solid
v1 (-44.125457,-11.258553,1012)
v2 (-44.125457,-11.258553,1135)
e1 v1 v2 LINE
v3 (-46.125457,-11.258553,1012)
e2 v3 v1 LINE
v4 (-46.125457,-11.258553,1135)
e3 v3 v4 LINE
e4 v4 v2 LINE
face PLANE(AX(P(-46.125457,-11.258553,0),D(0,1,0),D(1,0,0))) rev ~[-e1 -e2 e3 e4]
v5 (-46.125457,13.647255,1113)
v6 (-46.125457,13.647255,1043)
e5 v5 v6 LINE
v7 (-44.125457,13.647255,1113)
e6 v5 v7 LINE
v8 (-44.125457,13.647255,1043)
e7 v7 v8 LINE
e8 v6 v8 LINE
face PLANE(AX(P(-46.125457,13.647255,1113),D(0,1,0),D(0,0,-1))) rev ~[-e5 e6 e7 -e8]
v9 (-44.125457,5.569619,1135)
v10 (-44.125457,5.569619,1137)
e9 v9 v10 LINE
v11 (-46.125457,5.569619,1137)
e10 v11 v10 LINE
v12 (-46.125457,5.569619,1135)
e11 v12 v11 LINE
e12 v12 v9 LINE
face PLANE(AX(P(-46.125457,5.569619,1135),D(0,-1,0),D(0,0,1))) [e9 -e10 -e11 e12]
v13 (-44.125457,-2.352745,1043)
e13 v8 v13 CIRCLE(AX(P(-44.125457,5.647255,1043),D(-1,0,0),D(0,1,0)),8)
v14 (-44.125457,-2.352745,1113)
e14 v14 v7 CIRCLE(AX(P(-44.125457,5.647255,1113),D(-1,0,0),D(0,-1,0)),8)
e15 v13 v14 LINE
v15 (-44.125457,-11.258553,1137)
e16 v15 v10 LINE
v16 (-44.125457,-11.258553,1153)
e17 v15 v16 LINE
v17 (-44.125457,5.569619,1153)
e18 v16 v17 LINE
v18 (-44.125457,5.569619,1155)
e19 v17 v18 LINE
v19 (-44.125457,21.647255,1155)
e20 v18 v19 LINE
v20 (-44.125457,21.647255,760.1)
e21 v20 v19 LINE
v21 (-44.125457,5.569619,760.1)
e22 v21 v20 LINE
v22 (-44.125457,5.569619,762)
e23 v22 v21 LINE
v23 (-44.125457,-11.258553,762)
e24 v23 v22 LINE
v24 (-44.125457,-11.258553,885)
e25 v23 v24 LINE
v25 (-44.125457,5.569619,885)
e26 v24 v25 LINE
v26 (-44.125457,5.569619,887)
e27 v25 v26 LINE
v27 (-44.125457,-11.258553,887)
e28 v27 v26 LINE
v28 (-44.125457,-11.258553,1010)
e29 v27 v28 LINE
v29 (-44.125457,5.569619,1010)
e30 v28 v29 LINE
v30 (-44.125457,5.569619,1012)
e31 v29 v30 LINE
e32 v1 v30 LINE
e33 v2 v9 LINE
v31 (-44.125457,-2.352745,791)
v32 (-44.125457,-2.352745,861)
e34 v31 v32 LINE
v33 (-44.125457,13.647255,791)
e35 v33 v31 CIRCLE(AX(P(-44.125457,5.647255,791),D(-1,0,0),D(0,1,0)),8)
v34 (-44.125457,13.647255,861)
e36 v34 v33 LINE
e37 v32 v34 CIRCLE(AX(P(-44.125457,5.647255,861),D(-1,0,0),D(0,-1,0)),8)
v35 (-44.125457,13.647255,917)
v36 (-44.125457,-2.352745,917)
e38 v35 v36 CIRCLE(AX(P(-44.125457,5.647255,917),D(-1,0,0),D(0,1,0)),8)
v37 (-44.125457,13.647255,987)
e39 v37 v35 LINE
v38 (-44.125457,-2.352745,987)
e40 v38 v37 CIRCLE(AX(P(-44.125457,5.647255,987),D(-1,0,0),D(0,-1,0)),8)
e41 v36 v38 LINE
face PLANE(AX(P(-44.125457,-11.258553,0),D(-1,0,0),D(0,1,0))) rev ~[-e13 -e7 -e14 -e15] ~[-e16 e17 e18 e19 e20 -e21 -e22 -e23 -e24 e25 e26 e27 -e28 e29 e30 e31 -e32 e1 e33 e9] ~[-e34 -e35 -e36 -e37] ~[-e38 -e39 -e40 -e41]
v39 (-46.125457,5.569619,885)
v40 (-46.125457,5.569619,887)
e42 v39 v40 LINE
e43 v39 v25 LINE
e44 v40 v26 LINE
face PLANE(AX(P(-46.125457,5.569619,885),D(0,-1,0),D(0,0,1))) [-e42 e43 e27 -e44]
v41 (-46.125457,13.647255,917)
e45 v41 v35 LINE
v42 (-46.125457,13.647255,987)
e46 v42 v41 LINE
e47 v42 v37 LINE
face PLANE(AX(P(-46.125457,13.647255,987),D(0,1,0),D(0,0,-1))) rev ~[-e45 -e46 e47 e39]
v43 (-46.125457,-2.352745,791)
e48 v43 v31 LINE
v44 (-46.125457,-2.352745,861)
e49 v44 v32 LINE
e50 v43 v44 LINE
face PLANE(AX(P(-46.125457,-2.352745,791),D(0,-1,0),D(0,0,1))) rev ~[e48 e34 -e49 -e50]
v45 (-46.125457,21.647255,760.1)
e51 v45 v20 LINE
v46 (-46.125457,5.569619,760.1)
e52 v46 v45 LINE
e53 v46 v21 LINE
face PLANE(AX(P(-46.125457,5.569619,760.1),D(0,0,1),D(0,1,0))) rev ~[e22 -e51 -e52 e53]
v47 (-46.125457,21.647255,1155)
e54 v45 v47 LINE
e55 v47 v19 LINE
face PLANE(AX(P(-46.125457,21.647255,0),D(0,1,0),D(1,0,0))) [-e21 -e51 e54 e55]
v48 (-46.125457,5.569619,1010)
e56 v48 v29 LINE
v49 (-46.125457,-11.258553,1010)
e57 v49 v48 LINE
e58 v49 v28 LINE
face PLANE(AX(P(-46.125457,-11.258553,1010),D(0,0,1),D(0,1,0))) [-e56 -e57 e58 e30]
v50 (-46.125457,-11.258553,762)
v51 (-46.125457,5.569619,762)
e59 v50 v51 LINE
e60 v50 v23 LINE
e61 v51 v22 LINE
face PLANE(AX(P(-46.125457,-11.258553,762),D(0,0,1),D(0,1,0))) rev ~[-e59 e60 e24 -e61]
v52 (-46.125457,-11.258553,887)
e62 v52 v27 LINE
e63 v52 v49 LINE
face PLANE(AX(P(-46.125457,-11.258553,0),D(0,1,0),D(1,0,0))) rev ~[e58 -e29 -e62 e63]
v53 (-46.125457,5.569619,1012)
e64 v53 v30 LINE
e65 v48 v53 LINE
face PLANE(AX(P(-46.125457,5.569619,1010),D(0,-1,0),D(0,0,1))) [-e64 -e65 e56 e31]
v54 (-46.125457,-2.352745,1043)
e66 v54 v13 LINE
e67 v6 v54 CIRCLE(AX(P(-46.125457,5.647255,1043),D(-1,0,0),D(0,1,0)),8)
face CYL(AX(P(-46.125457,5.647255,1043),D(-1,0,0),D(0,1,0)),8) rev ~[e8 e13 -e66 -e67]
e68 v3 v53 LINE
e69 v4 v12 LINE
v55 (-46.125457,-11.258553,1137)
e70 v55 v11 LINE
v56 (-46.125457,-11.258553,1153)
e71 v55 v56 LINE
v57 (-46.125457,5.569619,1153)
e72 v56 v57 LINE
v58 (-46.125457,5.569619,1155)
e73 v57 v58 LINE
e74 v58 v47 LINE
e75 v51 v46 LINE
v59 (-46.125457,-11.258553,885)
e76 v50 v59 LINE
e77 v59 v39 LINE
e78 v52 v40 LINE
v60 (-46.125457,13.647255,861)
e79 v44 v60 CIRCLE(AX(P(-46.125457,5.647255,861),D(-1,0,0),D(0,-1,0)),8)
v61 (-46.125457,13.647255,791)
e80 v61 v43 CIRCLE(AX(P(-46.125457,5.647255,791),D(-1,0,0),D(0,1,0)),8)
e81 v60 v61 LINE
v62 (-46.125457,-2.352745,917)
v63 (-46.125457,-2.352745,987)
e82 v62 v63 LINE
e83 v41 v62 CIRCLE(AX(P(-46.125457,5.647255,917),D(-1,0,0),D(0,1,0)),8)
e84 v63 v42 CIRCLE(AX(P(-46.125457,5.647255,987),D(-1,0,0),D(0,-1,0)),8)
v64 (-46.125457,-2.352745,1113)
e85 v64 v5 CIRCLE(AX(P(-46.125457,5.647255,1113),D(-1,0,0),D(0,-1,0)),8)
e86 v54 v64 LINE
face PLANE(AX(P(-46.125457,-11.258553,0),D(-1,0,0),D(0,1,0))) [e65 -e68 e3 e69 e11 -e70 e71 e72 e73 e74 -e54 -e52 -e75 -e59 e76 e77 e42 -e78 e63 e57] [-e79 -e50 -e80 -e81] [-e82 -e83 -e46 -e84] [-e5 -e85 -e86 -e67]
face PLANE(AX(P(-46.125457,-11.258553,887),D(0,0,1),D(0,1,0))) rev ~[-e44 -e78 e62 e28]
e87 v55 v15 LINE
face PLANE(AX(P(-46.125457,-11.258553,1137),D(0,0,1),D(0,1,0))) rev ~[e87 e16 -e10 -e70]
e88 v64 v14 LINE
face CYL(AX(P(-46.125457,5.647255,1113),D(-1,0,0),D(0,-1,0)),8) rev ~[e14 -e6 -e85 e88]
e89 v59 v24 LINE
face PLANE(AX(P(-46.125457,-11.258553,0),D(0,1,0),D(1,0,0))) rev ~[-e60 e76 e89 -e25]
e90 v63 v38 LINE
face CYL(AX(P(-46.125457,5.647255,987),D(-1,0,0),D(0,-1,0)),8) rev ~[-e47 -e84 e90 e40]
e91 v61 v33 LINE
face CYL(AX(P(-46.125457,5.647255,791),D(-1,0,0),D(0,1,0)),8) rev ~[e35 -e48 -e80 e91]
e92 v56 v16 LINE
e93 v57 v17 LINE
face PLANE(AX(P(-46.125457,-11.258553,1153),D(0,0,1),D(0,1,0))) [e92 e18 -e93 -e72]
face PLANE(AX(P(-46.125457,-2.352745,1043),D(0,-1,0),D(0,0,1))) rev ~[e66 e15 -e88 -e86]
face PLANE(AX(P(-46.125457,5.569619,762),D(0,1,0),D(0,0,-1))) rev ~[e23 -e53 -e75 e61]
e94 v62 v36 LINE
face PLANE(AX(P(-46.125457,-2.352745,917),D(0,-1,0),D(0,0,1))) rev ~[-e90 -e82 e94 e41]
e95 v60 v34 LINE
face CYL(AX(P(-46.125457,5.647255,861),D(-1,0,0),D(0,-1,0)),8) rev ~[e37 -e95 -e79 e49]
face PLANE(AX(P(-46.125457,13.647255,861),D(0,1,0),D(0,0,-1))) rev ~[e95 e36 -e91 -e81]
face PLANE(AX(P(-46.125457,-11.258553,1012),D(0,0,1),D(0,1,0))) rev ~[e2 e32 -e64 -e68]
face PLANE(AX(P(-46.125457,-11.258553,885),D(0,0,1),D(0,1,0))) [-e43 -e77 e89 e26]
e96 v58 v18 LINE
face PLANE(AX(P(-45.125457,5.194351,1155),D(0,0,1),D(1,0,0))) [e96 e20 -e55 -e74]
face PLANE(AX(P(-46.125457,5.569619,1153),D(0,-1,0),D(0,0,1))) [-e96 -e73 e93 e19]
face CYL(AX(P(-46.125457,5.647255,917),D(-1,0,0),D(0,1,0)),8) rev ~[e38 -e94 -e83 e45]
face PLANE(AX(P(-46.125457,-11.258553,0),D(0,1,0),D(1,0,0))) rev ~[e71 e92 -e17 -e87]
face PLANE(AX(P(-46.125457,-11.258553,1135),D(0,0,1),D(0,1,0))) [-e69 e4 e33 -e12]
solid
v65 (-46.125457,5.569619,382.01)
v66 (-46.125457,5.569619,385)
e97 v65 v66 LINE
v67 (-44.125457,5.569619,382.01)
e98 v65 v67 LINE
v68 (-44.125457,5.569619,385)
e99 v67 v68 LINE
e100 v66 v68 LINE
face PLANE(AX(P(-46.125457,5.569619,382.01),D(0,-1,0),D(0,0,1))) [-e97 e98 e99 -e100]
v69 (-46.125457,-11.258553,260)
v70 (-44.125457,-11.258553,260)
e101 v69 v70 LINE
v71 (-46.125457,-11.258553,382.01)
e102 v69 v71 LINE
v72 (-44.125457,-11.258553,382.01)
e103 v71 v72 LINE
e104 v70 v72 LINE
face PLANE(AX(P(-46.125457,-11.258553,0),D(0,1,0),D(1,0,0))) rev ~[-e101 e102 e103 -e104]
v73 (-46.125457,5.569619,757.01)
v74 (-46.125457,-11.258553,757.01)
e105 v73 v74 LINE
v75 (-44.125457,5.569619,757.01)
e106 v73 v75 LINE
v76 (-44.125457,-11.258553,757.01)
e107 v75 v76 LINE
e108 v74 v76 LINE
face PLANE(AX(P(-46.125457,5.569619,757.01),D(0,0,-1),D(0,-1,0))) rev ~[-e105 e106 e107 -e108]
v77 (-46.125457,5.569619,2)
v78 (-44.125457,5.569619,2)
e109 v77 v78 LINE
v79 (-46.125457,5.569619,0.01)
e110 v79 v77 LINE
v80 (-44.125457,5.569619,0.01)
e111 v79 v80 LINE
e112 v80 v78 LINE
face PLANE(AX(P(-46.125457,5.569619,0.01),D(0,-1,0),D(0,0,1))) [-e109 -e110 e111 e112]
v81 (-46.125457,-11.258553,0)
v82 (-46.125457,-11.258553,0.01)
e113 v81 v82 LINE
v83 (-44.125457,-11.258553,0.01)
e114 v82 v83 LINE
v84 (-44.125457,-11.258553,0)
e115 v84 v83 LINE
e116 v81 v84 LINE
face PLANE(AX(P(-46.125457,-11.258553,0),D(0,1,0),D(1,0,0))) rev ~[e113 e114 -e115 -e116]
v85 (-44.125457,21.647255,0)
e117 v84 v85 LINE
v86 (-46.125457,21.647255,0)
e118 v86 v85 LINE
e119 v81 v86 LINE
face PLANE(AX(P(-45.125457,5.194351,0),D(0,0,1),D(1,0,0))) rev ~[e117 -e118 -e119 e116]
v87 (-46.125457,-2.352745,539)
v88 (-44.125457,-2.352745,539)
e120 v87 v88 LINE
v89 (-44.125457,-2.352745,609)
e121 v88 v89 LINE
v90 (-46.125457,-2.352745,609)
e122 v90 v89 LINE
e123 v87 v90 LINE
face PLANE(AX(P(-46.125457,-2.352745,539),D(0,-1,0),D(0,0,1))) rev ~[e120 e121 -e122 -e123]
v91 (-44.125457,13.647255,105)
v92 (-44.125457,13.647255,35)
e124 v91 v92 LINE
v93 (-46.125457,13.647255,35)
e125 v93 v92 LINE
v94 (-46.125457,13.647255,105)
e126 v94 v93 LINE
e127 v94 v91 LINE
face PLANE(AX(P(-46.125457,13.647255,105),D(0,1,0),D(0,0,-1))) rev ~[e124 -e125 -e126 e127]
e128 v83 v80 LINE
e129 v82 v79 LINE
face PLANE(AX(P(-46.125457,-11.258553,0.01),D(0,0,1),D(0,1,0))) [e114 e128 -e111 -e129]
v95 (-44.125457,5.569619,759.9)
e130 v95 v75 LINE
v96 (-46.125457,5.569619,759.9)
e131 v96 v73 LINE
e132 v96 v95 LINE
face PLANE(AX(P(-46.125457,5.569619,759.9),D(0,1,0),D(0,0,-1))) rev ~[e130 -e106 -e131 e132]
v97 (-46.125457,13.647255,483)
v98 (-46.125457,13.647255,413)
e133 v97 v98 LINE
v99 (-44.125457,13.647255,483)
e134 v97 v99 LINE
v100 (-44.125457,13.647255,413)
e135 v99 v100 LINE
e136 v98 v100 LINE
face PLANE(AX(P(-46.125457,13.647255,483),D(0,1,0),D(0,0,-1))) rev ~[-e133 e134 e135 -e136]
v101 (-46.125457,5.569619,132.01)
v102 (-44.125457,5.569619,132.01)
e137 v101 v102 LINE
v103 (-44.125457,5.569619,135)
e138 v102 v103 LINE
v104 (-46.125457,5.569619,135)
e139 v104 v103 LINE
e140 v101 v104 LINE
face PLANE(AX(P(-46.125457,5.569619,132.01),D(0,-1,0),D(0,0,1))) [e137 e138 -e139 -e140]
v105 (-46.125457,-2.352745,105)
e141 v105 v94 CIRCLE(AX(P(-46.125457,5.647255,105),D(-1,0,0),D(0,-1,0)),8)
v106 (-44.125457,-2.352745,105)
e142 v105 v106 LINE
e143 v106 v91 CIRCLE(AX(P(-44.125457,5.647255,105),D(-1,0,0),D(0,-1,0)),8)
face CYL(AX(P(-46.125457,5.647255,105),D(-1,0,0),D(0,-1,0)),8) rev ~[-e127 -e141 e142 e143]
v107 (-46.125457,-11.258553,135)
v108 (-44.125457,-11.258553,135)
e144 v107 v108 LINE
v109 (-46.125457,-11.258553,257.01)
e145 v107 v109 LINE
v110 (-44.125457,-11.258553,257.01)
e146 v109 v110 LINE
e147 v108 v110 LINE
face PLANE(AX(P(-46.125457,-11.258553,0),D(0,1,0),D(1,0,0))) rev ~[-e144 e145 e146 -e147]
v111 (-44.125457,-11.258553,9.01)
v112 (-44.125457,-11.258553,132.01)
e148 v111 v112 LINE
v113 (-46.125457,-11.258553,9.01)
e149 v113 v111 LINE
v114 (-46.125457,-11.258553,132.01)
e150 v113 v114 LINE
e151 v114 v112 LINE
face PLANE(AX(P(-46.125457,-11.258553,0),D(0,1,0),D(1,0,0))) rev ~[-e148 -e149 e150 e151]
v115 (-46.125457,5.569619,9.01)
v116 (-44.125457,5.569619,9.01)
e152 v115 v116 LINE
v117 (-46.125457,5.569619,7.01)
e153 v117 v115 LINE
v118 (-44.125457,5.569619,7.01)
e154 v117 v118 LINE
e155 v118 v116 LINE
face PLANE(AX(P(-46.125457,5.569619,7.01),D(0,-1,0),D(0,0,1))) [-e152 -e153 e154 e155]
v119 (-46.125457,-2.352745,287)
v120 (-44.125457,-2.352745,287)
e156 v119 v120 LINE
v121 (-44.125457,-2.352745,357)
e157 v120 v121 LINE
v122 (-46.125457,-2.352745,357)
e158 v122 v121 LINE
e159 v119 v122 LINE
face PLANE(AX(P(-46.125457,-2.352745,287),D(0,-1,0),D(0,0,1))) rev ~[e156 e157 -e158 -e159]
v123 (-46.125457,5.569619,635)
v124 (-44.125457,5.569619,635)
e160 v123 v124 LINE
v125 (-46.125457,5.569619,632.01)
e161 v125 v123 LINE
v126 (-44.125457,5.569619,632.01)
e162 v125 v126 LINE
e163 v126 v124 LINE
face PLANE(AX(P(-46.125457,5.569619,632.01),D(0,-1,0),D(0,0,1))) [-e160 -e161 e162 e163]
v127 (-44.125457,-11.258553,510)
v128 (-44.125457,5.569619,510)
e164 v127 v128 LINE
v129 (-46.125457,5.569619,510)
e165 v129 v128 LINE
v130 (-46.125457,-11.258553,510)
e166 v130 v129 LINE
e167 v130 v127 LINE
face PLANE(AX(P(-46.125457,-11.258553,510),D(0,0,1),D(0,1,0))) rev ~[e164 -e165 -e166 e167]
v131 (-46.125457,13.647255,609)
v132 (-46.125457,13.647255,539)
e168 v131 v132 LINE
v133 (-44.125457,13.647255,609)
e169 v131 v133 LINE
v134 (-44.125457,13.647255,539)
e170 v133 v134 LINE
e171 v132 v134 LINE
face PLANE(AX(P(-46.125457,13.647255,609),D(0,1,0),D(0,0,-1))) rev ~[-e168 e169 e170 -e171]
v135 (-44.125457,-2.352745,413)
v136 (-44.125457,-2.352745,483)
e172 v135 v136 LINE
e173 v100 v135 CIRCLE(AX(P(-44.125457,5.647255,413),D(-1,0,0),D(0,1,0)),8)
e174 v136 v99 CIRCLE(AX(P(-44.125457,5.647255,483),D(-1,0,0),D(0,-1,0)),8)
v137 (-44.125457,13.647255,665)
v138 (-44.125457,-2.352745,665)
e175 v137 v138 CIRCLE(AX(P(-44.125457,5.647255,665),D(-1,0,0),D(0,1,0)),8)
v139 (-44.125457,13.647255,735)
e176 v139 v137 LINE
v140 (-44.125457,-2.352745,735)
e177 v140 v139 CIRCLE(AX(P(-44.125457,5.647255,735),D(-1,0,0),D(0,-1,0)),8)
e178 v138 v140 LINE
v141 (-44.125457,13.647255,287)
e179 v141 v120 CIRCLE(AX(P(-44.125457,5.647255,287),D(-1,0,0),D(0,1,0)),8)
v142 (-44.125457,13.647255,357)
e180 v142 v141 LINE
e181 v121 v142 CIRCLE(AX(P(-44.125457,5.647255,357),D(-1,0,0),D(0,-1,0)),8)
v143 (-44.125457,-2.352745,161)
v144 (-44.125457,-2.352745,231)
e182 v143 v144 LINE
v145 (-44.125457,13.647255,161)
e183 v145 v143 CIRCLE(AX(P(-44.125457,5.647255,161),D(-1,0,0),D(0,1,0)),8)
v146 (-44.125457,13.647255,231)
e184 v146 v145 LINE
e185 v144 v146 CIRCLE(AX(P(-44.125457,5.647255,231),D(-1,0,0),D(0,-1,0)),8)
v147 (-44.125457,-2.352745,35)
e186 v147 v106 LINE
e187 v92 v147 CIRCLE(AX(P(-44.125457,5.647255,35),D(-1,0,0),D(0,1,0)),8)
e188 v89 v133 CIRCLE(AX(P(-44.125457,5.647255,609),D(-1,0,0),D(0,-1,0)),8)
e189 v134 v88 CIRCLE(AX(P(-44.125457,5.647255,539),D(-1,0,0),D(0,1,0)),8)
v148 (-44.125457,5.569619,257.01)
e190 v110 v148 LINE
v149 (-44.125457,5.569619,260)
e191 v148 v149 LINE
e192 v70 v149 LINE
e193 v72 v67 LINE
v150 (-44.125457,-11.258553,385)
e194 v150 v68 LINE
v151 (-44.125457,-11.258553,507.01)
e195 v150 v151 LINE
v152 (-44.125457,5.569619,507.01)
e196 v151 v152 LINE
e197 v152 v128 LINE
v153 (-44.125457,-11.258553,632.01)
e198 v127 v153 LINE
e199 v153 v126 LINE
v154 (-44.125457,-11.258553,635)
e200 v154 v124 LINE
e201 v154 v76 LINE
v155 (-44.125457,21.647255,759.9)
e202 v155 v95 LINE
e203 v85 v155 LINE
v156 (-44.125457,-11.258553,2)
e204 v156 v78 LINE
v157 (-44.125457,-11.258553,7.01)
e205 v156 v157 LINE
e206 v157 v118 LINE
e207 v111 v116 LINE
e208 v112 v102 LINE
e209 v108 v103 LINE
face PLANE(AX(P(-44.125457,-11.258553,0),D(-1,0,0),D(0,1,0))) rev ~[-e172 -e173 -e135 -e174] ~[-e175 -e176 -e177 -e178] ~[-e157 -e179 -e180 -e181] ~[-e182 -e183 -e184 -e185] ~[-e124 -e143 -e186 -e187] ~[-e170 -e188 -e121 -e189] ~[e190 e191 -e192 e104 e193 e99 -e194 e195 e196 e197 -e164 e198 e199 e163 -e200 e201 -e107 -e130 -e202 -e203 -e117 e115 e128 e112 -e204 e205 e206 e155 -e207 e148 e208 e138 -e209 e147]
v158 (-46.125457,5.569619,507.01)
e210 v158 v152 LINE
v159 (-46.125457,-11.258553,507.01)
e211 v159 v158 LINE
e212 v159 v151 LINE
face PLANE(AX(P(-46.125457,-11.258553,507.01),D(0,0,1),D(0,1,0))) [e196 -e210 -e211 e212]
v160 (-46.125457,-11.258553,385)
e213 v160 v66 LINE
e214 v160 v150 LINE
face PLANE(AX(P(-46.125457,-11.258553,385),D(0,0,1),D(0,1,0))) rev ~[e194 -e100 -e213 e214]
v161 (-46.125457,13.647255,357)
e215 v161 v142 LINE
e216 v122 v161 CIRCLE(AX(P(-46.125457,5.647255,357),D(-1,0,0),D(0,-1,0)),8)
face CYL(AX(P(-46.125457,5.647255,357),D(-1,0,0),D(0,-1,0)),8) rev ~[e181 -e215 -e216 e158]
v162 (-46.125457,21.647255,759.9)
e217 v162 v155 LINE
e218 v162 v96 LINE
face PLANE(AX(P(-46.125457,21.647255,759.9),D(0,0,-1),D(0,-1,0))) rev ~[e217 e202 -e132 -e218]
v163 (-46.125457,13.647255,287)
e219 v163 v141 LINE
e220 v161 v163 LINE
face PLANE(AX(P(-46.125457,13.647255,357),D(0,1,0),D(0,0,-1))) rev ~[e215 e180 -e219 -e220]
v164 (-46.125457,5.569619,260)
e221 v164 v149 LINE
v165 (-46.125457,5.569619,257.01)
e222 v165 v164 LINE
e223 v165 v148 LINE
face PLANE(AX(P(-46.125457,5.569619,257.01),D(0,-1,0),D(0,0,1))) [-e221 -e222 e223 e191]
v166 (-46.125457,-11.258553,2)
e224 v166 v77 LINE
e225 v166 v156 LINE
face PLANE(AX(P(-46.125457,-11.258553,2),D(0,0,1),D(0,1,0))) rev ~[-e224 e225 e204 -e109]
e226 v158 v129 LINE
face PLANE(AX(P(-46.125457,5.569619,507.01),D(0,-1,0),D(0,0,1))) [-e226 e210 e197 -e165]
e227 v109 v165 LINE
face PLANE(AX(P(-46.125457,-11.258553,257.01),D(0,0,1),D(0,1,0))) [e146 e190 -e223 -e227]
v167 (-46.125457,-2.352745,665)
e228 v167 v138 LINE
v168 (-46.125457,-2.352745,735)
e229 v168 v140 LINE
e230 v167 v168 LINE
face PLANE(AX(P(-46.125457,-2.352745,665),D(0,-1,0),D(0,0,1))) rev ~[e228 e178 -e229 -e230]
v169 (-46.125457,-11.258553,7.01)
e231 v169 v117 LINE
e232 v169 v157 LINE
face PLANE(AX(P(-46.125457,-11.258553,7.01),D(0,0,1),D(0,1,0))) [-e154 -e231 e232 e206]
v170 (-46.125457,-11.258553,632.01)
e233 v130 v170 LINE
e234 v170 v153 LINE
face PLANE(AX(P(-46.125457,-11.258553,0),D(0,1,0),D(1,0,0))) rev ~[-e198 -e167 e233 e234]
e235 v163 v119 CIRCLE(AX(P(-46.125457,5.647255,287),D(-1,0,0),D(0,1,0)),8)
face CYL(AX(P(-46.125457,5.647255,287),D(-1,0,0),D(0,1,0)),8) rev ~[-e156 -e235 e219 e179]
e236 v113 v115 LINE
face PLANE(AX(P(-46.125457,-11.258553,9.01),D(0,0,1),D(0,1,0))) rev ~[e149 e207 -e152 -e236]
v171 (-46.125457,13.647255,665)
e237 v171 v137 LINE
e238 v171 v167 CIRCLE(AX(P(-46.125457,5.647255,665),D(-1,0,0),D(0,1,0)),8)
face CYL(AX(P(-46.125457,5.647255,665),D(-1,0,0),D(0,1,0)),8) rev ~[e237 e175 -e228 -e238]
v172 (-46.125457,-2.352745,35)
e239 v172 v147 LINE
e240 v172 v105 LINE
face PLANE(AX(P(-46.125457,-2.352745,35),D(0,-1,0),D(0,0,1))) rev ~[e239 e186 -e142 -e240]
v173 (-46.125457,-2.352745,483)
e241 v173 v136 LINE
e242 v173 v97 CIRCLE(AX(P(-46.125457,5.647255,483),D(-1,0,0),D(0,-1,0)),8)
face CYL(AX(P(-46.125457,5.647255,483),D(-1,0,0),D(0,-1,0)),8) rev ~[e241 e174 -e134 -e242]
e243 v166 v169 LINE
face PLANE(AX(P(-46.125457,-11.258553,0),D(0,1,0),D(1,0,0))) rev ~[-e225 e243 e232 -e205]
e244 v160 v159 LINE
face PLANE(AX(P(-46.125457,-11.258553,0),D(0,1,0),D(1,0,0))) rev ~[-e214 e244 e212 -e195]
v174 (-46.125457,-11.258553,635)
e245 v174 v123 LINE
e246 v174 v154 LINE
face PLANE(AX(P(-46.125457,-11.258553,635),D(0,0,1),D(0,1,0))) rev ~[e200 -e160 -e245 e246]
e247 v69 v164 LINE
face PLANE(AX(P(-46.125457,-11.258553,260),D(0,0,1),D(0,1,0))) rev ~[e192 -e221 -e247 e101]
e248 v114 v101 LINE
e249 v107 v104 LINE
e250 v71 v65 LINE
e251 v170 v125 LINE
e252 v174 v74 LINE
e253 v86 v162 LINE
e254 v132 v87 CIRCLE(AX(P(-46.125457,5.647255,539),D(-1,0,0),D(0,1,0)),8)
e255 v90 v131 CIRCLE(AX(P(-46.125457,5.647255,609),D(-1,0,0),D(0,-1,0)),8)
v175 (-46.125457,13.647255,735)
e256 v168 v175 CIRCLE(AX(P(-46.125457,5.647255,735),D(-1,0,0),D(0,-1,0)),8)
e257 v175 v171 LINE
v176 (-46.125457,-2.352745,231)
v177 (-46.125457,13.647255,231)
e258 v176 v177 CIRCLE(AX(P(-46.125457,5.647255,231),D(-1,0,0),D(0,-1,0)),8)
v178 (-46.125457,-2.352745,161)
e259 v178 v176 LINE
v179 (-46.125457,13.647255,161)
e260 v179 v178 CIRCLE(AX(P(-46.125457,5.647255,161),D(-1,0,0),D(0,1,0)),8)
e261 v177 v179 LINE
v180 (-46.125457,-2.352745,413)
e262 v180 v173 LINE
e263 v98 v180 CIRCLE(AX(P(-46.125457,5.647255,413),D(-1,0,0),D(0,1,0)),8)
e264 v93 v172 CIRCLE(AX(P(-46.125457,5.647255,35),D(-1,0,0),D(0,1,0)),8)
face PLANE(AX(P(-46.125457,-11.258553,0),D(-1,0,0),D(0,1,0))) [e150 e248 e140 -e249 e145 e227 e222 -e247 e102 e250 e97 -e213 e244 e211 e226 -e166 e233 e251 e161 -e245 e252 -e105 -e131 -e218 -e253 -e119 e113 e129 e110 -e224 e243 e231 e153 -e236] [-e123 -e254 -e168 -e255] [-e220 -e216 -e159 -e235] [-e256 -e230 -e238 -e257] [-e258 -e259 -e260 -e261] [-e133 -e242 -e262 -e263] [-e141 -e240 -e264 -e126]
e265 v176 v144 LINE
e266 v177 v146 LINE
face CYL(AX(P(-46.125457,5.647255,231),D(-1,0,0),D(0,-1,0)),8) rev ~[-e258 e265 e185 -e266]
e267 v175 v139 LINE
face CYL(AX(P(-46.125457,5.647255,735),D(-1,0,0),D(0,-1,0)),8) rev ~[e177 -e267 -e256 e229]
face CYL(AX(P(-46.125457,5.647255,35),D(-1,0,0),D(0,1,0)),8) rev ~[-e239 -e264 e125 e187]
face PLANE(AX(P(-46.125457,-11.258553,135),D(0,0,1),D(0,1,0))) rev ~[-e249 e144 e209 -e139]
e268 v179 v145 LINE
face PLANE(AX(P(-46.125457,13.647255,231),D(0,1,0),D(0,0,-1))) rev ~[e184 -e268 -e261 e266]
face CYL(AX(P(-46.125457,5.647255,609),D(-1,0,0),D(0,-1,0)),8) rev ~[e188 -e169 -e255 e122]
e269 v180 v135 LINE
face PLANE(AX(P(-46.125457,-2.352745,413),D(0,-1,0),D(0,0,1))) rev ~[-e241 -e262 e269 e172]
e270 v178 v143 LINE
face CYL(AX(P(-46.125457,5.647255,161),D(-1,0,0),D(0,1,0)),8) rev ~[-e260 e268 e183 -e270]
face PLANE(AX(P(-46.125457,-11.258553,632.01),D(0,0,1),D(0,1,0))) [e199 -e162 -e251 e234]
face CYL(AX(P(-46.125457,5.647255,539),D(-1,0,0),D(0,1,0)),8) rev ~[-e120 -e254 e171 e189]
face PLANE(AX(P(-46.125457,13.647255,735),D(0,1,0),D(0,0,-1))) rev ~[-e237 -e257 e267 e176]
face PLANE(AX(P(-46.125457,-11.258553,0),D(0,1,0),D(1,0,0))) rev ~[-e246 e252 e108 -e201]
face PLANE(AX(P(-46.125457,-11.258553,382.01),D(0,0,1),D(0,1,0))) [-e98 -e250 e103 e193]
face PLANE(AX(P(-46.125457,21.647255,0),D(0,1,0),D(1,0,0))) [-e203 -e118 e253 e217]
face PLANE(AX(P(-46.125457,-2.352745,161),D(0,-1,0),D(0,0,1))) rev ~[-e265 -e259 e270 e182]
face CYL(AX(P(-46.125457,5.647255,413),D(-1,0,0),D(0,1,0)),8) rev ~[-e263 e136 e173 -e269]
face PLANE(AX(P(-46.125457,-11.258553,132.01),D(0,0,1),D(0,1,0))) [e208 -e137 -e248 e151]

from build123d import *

# Parameters (mm, degrees)
SKETCH_1_W          = 2
SKETCH_1_H          = 32.905807398
EXTRUDE_1_DEPTH     = 1155
SKETCH_2_W          = 1.99
SKETCH_2_H          = 16.828171787
SKETCH_2_W_2        = 2
SKETCH_2_W_3        = 2.99
CUT_EXTRUDE_1_DEPTH = 3


with BuildPart() as part:
    # 草图1 → 凸台-拉伸1 (new body)
    with BuildSketch(Plane.XY):
        with Locations((-45.125456821, 5.194351007)):
            Rectangle(SKETCH_1_W, SKETCH_1_H)
    extrude(amount=EXTRUDE_1_DEPTH)

    # 草图2 → 切除-拉伸1 (cut)
    with BuildSketch(Plane.ZY.offset(46.125456821)):
        with Locations((1.005, -2.844466799)):
            Rectangle(SKETCH_2_W, SKETCH_2_H)
        with Locations((8.01, -2.844466799)):
            Rectangle(SKETCH_2_W_2, SKETCH_2_H)
        with BuildLine():
            Line((35, -2.352745294), (105, -2.352745294))
            ThreePointArc((105, -2.352745294), (113, 5.647254706), (105, 13.647254706))
            Line((105, 13.647254706), (35, 13.647254706))
            ThreePointArc((35, 13.647254706), (27, 5.647254706), (35, -2.352745294))
        make_face()
        with Locations((133.505, -2.844466799)):
            Rectangle(SKETCH_2_W_3, SKETCH_2_H)
        with BuildLine():
            Line((161, -2.352745294), (231, -2.352745294))
            ThreePointArc((231, -2.352745294), (239, 5.647254706), (231, 13.647254706))
            Line((231, 13.647254706), (161, 13.647254706))
            ThreePointArc((161, 13.647254706), (153, 5.647254706), (161, -2.352745294))
        make_face()
        with Locations((258.505, -2.844466799)):
            Rectangle(SKETCH_2_W_3, SKETCH_2_H)
        with BuildLine():
            Line((287, -2.352745294), (357, -2.352745294))
            ThreePointArc((357, -2.352745294), (365, 5.647254706), (357, 13.647254706))
            Line((357, 13.647254706), (287, 13.647254706))
            ThreePointArc((287, 13.647254706), (279, 5.647254706), (287, -2.352745294))
        make_face()
        with Locations((383.505, -2.844466799)):
            Rectangle(SKETCH_2_W_3, SKETCH_2_H)
        with BuildLine():
            Line((413, -2.352745294), (483, -2.352745294))
            ThreePointArc((483, -2.352745294), (491, 5.647254706), (483, 13.647254706))
            Line((483, 13.647254706), (413, 13.647254706))
            ThreePointArc((413, 13.647254706), (405, 5.647254706), (413, -2.352745294))
        make_face()
        with Locations((508.505, -2.844466799)):
            Rectangle(SKETCH_2_W_3, SKETCH_2_H)
        with BuildLine():
            Line((539, -2.352745294), (609, -2.352745294))
            ThreePointArc((609, -2.352745294), (617, 5.647254706), (609, 13.647254706))
            Line((609, 13.647254706), (539, 13.647254706))
            ThreePointArc((539, 13.647254706), (531, 5.647254706), (539, -2.352745294))
        make_face()
        with Locations((633.505, -2.844466799)):
            Rectangle(SKETCH_2_W_3, SKETCH_2_H)
        with BuildLine():
            Line((665, -2.352745294), (735, -2.352745294))
            ThreePointArc((735, -2.352745294), (743, 5.647254706), (735, 13.647254706))
            Line((735, 13.647254706), (665, 13.647254706))
            ThreePointArc((665, 13.647254706), (657, 5.647254706), (665, -2.352745294))
        make_face()
        Polygon((757.01, 5.569619095), (757.01, -11.258552692), (760, -11.258552692), (760, 5.569619095), (759.9, 5.569619095), align=None)
        Polygon((760, 5.569619095), (760, -11.258552692), (762, -11.258552692), (762, 5.569619095), (760.1, 5.569619095), align=None)
        Polygon((759.9, 21.647254706), (759.9, 5.569619095), (760, 5.569619095), (760.1, 5.569619095), (760.1, 21.647254706), align=None)
        with BuildLine():
            Line((791, -2.352745294), (861, -2.352745294))
            ThreePointArc((861, -2.352745294), (869, 5.647254706), (861, 13.647254706))
            Line((861, 13.647254706), (791, 13.647254706))
            ThreePointArc((791, 13.647254706), (783, 5.647254706), (791, -2.352745294))
        make_face()
        with Locations((886, -2.844466799)):
            Rectangle(SKETCH_2_W_2, SKETCH_2_H)
        with BuildLine():
            Line((917, -2.352745294), (987, -2.352745294))
            ThreePointArc((987, -2.352745294), (995, 5.647254706), (987, 13.647254706))
            Line((987, 13.647254706), (917, 13.647254706))
            ThreePointArc((917, 13.647254706), (909, 5.647254706), (917, -2.352745294))
        make_face()
        with Locations((1011, -2.844466799)):
            Rectangle(SKETCH_2_W_2, SKETCH_2_H)
        with BuildLine():
            Line((1043, -2.352745294), (1113, -2.352745294))
            ThreePointArc((1113, -2.352745294), (1121, 5.647254706), (1113, 13.647254706))
            Line((1113, 13.647254706), (1043, 13.647254706))
            ThreePointArc((1043, 13.647254706), (1035, 5.647254706), (1043, -2.352745294))
        make_face()
        with Locations((1136, -2.844466799)):
            Rectangle(SKETCH_2_W_2, SKETCH_2_H)
        with Locations((1154, -2.844466799)):
            Rectangle(SKETCH_2_W_2, SKETCH_2_H)
    extrude(amount=-CUT_EXTRUDE_1_DEPTH, mode=Mode.SUBTRACT)


with BuildPart() as cut_extrude_1_piece_1:
    # of the separate pieces the step leaves, piece 1, a body of its own (cut_extrude_1_pieces)
    add(part.part.solids().sort_by_distance((-44.125456821, 21.647254706, 0))[0])


with BuildPart() as cut_extrude_1_piece_2:
    # of the separate pieces the step leaves, piece 2, a body of its own (cut_extrude_1_pieces)
    add(part.part.solids().sort_by_distance((-46.125456821, 21.647254706, 760.1))[0])


solid = Compound([cut_extrude_1_piece_1.part, cut_extrude_1_piece_2.part])
